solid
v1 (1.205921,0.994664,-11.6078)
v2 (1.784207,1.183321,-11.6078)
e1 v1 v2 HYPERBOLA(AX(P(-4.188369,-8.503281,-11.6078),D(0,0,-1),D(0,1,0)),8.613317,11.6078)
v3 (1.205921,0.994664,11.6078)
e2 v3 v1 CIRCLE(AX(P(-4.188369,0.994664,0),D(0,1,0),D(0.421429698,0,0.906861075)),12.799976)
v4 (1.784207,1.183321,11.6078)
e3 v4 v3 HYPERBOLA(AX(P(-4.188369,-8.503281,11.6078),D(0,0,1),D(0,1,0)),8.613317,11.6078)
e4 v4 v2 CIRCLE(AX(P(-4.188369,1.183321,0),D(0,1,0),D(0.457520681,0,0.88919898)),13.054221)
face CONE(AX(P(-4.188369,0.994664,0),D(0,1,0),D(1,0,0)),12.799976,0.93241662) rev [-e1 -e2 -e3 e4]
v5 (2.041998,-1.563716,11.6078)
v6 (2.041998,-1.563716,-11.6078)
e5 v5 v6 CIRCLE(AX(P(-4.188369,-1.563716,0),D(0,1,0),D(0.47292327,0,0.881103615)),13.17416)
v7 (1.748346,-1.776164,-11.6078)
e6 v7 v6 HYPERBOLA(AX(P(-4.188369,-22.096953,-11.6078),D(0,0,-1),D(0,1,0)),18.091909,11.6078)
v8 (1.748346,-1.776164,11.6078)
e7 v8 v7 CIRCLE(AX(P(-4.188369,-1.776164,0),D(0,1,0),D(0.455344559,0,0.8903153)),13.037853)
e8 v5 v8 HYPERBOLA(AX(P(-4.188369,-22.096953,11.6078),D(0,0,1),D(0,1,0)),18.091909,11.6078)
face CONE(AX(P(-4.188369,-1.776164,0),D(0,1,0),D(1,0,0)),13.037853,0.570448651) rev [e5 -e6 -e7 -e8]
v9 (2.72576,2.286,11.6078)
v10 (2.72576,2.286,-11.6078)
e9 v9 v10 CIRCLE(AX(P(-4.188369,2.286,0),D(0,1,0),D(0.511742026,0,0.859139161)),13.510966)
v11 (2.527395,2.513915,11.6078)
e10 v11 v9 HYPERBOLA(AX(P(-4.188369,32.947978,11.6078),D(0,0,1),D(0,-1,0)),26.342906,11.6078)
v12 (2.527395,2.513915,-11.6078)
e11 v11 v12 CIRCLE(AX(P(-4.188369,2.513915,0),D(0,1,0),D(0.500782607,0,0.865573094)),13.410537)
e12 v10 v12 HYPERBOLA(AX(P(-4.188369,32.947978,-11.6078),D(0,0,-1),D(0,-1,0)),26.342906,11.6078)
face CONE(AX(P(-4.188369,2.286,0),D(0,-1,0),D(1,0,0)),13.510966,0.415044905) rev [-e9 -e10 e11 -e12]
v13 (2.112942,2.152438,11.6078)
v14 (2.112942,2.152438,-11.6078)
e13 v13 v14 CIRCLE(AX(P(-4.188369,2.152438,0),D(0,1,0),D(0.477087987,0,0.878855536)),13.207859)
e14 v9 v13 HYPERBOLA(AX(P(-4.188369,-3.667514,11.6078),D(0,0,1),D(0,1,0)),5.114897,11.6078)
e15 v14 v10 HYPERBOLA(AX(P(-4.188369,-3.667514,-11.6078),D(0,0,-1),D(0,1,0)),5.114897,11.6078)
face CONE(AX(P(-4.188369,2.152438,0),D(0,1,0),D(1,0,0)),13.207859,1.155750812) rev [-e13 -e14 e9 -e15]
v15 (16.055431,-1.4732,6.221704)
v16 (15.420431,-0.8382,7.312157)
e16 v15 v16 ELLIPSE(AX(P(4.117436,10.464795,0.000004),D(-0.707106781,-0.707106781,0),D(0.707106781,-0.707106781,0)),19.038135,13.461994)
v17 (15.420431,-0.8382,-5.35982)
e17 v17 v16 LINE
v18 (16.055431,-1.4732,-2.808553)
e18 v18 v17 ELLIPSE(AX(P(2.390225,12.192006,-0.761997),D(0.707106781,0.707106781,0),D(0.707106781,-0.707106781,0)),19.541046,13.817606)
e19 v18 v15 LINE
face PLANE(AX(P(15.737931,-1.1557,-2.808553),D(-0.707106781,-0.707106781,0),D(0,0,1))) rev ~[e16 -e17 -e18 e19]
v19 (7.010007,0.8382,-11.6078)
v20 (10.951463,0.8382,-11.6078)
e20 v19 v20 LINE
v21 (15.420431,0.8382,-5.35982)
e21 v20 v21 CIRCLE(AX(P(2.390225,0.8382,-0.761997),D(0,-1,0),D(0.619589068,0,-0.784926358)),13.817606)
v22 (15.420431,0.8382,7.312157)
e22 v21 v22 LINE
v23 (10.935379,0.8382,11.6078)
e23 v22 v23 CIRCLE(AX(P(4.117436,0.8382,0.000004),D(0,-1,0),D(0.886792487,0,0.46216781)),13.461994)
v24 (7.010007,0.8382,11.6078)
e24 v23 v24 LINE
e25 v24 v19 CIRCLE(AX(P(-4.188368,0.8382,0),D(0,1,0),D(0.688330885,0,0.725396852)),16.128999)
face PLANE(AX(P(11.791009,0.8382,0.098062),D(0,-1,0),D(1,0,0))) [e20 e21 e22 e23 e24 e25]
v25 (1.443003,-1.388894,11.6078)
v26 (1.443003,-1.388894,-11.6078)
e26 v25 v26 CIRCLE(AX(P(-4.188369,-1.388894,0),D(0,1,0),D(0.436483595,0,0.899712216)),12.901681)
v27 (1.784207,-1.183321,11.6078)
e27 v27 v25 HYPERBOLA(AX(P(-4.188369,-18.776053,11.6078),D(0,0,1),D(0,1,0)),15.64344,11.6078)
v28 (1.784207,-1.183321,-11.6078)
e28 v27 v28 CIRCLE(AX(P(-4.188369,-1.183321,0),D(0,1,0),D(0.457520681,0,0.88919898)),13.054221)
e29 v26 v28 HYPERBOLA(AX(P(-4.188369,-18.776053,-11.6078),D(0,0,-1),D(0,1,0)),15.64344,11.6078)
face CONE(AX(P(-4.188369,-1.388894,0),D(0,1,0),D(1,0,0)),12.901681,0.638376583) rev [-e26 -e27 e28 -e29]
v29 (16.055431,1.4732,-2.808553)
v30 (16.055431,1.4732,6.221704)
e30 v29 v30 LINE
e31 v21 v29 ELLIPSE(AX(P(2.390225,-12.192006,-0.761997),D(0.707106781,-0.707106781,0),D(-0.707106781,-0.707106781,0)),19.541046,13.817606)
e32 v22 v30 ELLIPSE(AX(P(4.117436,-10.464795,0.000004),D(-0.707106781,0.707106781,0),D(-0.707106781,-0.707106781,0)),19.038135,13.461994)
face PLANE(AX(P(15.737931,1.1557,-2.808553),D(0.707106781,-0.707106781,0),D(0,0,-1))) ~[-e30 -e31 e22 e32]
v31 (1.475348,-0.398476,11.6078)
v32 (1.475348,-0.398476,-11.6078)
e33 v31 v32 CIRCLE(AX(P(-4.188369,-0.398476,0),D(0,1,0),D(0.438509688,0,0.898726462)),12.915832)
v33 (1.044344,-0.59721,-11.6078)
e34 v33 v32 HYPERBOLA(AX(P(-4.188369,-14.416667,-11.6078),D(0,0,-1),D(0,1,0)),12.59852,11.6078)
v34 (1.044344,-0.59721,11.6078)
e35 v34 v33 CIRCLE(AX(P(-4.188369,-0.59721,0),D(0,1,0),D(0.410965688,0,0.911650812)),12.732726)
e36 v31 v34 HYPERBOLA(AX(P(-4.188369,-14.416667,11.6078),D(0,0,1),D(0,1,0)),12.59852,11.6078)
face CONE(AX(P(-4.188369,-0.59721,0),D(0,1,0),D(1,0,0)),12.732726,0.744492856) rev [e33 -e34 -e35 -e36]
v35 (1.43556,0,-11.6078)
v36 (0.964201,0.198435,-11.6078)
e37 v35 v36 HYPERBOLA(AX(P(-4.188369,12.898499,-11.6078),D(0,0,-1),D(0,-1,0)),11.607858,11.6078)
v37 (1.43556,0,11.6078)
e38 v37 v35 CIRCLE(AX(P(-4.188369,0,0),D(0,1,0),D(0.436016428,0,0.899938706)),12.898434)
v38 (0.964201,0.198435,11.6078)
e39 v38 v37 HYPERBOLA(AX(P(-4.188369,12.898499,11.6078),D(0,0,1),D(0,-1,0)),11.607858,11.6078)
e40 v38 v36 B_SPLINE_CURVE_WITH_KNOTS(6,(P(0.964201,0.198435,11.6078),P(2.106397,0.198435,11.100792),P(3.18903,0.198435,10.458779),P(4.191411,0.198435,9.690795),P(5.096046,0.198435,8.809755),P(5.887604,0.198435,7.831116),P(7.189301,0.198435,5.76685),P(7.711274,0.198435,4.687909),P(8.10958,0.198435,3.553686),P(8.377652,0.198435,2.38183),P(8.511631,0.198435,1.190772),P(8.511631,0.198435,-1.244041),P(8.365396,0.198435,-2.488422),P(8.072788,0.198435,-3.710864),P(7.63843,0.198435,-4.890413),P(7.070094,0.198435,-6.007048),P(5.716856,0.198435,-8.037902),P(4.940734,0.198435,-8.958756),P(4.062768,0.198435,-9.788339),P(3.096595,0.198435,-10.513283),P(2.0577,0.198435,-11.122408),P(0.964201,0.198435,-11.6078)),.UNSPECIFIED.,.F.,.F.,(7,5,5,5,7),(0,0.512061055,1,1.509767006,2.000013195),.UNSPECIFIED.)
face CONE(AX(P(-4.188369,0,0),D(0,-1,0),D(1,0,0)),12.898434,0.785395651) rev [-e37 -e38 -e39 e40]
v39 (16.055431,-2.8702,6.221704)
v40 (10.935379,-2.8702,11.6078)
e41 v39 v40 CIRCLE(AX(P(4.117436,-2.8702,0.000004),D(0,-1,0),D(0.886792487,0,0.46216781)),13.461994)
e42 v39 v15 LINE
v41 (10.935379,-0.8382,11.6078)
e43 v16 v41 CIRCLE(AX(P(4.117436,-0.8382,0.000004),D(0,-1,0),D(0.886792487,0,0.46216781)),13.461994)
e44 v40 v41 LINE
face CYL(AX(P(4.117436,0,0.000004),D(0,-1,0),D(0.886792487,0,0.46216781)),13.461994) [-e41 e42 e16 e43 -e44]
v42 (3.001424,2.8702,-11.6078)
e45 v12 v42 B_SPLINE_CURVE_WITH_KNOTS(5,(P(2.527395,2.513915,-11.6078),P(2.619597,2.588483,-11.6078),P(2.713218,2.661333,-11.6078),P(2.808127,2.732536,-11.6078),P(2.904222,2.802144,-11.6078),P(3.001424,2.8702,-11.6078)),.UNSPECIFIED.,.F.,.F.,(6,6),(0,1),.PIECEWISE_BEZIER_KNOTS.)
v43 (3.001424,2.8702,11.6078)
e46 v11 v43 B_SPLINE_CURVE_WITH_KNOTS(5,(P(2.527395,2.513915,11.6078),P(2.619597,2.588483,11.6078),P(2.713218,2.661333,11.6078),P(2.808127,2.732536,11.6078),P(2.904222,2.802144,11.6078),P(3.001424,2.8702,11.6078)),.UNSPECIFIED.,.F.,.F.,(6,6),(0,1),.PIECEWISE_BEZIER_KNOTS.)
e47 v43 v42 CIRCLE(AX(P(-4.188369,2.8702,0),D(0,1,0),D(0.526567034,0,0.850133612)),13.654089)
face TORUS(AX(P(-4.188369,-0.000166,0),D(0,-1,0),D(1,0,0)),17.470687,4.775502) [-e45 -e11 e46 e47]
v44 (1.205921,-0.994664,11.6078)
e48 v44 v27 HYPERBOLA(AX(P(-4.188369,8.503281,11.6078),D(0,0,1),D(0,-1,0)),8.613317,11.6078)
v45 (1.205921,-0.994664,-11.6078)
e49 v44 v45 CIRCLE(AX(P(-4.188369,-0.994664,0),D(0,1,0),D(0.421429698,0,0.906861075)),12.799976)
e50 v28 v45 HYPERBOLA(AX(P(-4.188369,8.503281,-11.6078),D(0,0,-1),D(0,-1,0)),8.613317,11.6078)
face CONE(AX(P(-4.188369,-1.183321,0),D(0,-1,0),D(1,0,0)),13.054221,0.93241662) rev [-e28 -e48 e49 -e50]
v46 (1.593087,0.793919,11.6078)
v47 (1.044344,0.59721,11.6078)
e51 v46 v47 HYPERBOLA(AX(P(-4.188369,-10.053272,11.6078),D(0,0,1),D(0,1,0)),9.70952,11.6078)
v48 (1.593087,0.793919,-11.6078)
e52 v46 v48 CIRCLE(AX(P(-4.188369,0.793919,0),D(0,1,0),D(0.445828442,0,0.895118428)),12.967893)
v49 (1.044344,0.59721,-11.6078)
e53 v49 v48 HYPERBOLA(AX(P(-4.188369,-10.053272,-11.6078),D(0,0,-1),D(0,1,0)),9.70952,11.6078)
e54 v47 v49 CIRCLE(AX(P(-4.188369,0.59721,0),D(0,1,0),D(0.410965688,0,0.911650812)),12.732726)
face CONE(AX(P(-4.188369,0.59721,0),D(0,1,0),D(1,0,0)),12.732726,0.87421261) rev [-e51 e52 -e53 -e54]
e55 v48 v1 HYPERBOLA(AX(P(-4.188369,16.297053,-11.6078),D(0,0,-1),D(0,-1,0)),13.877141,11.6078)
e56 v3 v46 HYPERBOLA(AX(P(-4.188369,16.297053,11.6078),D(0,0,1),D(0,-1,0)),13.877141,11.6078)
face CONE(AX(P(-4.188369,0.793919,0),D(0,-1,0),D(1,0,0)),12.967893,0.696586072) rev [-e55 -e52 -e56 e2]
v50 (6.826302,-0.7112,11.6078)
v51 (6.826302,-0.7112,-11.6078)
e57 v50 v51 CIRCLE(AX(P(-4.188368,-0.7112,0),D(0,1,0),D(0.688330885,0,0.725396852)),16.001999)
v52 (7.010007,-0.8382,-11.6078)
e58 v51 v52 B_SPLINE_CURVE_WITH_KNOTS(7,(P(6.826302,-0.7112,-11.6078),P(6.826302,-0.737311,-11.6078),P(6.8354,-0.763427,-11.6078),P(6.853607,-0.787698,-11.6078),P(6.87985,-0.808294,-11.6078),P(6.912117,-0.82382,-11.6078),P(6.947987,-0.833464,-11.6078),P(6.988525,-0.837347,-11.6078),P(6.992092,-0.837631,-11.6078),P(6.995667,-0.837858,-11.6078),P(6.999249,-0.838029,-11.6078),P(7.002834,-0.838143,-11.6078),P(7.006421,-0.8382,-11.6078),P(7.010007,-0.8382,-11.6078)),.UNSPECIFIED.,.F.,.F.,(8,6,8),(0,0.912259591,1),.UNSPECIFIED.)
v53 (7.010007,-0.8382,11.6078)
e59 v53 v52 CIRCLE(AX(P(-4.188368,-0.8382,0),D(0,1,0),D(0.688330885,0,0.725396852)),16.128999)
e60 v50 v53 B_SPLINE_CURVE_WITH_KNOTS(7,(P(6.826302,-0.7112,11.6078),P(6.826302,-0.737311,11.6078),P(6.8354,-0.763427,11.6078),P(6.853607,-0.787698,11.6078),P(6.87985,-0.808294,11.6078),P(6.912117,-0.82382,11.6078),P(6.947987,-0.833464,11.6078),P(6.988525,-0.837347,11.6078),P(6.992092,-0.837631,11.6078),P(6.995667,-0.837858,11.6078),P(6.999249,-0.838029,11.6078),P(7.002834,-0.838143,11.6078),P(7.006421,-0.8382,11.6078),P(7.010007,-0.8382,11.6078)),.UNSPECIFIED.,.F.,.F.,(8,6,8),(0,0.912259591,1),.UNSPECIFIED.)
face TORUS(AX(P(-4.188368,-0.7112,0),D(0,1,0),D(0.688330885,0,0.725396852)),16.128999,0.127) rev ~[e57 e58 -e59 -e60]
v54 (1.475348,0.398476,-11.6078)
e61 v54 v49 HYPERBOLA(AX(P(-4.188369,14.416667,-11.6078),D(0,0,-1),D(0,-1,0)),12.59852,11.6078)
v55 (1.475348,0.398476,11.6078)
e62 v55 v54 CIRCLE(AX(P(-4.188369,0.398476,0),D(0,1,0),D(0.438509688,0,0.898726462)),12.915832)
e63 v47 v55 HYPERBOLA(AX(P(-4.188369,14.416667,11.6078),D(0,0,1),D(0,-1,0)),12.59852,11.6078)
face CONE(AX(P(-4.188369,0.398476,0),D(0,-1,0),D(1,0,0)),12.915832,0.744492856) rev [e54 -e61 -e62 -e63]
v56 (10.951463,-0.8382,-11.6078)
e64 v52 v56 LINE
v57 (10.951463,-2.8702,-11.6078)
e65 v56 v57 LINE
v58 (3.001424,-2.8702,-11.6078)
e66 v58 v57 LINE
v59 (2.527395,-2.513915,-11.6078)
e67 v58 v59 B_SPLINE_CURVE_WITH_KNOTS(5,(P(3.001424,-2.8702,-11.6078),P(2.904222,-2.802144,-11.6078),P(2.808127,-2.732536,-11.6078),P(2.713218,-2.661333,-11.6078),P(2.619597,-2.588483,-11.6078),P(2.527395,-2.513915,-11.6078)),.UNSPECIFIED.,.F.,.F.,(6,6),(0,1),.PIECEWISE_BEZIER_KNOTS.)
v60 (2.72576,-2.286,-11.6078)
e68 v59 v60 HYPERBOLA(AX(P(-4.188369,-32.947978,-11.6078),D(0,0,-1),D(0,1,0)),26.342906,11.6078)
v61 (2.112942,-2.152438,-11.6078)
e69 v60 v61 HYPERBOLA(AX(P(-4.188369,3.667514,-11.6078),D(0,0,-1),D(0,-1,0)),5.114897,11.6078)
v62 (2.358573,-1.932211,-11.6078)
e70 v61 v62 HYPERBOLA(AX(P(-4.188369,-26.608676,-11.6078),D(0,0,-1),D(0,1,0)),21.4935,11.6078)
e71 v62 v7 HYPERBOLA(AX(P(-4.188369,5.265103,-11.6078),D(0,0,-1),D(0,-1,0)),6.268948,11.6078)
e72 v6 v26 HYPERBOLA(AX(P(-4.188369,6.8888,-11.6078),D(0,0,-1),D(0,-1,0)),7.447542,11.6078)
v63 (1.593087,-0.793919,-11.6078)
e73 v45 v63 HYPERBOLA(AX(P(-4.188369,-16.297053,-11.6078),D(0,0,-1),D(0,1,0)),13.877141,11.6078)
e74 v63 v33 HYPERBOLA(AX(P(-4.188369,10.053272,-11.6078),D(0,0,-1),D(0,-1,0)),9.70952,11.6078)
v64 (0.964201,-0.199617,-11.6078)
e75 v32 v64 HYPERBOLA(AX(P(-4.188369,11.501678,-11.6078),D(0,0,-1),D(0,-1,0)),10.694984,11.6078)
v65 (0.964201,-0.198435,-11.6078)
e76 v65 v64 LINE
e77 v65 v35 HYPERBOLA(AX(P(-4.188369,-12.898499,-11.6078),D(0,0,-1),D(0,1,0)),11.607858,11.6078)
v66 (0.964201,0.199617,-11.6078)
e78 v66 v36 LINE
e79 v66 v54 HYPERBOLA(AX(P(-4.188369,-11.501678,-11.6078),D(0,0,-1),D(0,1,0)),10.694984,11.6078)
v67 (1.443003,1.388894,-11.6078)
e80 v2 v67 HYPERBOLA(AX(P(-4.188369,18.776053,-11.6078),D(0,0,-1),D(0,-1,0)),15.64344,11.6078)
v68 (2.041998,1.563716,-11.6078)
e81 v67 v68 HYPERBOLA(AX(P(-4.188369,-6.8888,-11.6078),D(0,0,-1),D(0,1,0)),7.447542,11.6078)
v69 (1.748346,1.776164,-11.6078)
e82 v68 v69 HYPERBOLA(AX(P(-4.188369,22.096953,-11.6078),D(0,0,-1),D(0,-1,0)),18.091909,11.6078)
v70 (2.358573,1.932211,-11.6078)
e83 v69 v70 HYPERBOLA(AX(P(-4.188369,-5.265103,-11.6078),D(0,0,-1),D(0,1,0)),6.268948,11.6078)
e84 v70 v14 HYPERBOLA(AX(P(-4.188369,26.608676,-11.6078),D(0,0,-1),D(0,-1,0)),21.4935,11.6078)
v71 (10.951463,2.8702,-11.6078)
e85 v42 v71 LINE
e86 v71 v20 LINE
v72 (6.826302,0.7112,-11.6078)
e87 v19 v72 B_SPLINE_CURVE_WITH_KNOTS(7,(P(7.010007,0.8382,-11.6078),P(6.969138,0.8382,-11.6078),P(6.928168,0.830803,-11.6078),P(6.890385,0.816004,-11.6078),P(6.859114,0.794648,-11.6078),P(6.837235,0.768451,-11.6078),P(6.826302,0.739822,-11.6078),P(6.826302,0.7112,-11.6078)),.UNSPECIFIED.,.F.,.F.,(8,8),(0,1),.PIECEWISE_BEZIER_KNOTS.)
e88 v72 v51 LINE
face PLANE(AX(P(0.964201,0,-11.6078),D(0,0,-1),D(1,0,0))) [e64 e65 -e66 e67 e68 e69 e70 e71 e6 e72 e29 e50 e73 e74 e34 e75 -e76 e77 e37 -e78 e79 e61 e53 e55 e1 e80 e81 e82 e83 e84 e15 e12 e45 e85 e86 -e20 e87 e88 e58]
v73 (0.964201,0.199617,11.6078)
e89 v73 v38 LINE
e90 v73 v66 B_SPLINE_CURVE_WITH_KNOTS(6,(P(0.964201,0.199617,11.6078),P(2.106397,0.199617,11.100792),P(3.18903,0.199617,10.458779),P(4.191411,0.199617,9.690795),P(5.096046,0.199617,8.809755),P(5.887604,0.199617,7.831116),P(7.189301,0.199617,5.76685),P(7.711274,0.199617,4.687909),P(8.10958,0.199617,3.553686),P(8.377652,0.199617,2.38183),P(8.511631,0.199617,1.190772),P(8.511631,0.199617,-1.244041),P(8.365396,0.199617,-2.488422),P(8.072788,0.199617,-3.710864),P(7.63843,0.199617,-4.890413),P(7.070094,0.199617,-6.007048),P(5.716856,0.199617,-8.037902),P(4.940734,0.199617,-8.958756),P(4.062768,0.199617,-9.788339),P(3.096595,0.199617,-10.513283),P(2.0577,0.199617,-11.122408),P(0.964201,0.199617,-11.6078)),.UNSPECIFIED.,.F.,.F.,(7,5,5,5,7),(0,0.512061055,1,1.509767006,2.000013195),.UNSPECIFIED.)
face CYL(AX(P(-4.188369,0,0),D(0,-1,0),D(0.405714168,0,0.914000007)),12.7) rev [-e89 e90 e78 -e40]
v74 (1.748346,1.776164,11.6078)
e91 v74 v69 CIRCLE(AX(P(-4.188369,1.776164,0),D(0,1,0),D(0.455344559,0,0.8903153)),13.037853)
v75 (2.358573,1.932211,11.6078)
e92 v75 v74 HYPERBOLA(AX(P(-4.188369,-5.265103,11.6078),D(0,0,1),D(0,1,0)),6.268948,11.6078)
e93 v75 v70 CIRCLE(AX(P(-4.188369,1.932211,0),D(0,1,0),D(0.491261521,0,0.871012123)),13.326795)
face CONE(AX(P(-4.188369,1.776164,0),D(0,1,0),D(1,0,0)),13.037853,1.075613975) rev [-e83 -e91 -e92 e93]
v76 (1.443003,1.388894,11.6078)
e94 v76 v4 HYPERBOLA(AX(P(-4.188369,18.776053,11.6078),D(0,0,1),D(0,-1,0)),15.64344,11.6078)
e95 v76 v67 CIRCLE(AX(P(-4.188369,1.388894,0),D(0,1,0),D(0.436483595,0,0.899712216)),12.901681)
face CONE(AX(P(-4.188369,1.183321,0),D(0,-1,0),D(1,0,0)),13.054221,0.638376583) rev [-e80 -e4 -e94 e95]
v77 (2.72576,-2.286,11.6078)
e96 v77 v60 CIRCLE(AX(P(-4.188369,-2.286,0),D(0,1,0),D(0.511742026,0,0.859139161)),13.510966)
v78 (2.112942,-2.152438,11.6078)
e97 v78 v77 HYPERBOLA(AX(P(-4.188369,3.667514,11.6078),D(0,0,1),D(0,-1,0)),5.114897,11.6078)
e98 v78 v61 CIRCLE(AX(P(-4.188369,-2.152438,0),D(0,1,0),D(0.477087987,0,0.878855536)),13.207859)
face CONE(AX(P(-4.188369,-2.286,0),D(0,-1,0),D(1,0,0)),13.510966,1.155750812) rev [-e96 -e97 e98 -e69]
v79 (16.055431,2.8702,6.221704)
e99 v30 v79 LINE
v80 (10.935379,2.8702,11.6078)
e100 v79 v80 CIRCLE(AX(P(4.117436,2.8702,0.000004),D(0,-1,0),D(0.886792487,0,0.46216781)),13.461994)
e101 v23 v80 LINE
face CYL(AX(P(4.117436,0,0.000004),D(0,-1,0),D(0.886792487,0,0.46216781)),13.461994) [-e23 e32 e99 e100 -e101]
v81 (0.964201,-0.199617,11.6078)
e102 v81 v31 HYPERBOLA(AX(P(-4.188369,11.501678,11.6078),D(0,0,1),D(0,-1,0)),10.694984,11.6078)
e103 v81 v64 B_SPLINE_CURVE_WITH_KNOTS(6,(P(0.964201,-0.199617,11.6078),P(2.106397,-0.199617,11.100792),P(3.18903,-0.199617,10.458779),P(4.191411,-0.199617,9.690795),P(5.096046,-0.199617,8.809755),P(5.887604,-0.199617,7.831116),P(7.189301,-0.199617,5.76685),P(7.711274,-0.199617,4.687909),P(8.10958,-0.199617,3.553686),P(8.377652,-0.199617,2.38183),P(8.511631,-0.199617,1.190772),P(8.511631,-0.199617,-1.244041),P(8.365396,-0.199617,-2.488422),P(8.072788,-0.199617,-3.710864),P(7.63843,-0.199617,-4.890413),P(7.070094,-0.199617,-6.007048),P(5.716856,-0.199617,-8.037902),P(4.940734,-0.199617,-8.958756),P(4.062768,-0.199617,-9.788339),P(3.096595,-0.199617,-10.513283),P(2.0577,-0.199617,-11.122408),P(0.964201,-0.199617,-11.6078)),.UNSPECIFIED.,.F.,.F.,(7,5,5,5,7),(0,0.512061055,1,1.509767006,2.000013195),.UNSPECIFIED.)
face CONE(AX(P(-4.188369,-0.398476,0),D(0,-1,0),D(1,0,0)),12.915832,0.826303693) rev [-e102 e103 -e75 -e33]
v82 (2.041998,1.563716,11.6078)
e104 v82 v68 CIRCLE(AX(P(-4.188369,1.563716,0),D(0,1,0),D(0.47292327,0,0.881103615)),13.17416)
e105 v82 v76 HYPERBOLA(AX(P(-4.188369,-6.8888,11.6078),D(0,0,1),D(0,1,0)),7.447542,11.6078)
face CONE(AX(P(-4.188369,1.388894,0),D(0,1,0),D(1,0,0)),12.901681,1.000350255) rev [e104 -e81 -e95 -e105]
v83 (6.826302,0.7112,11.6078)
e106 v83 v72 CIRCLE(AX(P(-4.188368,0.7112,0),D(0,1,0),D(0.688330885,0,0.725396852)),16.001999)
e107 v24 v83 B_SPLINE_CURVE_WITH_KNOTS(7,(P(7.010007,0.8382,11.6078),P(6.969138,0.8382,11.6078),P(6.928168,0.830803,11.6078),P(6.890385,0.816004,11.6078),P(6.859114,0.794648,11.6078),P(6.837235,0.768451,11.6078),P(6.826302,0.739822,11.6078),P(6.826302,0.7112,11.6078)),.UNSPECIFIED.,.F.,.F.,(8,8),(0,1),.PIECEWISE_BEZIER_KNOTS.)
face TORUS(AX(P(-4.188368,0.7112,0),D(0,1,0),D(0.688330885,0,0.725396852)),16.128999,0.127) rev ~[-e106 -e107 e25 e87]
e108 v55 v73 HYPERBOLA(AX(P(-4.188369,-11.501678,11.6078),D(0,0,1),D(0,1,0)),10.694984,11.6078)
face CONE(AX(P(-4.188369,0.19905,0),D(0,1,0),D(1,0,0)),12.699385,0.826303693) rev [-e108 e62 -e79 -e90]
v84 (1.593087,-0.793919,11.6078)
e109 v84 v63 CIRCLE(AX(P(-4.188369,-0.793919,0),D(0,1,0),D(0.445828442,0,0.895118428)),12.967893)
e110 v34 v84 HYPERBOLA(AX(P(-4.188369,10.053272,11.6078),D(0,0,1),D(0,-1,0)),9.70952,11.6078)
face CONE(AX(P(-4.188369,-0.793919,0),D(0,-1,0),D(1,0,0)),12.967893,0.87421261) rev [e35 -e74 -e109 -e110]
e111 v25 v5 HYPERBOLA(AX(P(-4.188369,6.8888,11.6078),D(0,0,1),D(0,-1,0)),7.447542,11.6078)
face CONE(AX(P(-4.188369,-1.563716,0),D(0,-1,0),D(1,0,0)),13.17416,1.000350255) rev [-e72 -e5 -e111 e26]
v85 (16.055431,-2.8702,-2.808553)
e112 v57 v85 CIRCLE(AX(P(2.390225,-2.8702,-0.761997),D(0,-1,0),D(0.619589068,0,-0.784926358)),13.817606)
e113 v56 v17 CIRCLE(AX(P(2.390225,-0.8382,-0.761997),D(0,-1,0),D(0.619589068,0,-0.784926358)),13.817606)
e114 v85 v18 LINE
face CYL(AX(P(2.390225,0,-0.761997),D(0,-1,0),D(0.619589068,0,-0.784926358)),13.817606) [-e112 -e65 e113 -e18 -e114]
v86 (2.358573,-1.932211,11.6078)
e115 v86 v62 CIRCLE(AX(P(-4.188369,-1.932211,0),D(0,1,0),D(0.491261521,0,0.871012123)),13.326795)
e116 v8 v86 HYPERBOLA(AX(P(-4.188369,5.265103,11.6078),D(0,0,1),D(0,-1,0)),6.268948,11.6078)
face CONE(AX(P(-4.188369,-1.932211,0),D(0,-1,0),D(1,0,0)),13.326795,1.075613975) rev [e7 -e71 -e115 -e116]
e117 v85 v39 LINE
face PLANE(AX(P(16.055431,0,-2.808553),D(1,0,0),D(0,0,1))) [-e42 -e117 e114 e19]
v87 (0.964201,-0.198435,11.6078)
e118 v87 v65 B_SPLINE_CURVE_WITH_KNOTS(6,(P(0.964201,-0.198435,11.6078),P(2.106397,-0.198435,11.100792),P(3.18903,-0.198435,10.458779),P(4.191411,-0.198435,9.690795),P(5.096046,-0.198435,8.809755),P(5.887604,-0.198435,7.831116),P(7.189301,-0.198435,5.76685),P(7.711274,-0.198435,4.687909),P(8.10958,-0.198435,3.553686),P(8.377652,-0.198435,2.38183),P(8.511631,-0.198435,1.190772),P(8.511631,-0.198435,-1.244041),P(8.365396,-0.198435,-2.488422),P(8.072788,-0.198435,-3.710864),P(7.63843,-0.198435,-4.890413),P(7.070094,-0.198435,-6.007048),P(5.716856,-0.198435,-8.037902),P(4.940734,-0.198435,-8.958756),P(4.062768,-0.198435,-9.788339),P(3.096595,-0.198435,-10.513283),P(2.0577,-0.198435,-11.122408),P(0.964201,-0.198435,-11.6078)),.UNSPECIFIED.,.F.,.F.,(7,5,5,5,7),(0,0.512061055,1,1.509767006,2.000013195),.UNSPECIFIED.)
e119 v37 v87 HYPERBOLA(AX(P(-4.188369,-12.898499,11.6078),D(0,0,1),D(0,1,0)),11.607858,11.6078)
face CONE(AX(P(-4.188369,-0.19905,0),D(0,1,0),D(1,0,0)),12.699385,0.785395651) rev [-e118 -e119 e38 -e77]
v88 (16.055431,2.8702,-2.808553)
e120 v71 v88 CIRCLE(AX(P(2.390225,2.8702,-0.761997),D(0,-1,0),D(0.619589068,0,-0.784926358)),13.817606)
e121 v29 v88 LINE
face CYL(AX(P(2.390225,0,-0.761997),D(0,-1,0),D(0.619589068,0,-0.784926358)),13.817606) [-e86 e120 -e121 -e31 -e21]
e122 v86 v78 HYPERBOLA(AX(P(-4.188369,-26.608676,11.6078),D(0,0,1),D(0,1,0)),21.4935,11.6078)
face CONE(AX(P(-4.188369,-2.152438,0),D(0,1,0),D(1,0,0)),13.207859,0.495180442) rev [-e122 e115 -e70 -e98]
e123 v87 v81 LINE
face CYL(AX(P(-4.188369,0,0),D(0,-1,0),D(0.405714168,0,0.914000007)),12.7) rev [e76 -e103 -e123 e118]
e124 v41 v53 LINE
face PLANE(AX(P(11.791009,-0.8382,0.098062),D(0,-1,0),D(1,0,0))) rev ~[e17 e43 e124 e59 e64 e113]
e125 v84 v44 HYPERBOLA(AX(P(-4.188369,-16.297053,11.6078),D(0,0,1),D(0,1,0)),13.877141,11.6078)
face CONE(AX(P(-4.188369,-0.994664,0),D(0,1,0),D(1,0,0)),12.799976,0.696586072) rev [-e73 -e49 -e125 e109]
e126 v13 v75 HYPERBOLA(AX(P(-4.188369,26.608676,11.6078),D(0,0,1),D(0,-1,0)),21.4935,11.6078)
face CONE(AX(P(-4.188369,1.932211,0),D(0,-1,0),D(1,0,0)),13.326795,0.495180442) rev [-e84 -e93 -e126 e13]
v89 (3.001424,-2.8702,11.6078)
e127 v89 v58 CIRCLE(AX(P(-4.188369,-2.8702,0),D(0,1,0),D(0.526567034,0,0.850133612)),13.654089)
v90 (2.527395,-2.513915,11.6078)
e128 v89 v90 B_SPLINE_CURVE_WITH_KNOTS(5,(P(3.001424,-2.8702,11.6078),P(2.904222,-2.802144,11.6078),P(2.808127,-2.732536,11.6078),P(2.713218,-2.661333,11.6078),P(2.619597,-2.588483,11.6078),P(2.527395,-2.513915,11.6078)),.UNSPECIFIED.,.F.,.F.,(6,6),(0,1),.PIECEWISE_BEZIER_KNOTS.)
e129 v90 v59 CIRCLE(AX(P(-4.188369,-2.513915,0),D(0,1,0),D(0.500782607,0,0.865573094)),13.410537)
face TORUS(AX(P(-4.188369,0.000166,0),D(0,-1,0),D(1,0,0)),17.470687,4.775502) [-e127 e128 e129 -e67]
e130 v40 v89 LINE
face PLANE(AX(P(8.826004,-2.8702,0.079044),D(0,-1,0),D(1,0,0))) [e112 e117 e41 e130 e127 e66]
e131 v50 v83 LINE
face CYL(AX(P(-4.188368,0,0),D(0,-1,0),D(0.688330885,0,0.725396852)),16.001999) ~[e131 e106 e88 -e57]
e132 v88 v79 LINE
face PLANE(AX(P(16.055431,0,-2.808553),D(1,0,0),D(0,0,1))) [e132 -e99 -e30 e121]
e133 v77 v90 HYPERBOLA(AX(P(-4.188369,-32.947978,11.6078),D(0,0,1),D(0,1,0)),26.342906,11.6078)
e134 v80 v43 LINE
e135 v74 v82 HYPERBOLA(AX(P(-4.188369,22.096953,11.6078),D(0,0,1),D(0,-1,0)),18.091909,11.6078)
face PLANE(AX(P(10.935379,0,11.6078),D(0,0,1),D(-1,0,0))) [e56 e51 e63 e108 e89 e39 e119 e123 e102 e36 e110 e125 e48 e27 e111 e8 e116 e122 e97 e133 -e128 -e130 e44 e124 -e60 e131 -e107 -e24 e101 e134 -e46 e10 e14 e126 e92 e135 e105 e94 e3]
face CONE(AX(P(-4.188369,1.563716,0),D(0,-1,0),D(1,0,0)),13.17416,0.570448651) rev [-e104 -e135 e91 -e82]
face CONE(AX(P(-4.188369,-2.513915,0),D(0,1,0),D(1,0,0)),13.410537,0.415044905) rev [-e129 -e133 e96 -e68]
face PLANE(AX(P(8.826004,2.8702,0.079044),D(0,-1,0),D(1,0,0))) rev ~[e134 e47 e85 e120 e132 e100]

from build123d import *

# Parameters (mm, degrees)
F1_DEPTH = 2.8702
F3_DEPTH = 0.8382
F4_R     = 0.127
F7_SIZE  = 0.635


with BuildPart() as f1:
    # F0 (on Front) → F1 (new body, symmetric)
    with BuildSketch(Plane.XZ):
        with BuildLine():
            Line((10.935379, 11.6078), (0.964201, 11.6078))
            ThreePointArc((0.964201, 11.6078), (8.511631, 0), (0.964201, -11.6078))
            Line((0.964201, -11.6078), (10.951463, -11.6078))
            ThreePointArc((10.951463, -11.6078), (14.342647, -7.694951), (16.055431, -2.808553))
            Line((16.055431, -2.808553), (16.055431, 6.221704))
            ThreePointArc((16.055431, 6.221704), (13.874424, 9.275049), (10.935379, 11.6078))
        make_face()
    extrude(amount=F1_DEPTH, both=True)

    # F2 (on Front) → F3 (cut, symmetric)
    with BuildSketch(Plane.XZ):
        with BuildLine():
            ThreePointArc((6.826302, 11.6078), (11.813631, 0), (6.826302, -11.6078))
            Line((6.826302, -11.6078), (10.951463, -11.6078))
            ThreePointArc((10.951463, -11.6078), (14.342647, -7.694951), (16.055431, -2.808553))
            Line((16.055431, -2.808553), (16.055431, 6.221704))
            ThreePointArc((16.055431, 6.221704), (13.874424, 9.275049), (10.935379, 11.6078))
            Line((10.935379, 11.6078), (6.826302, 11.6078))
        make_face()
    extrude(amount=F3_DEPTH, both=True, mode=Mode.SUBTRACT)

    # F4
    f4_edges = [f1.edges().sort_by_distance(p)[0] for p in [
        (11.813631, 0.8382, 0),
        (11.813631, -0.8382, 0),
    ]]
    fillet(f4_edges, radius=F4_R)

    # F5 (on Top) → F6 (revolve, cut)
    with BuildSketch(Plane.XY):
        with BuildLine():
            Line((9.46572, 2.8702), (0.964201, 2.8702))
            Line((0.964201, 2.8702), (0.964201, -2.8702))
            Line((0.964201, -2.8702), (9.46572, -2.8702))
            ThreePointArc((9.46572, -2.8702), (9.339917, -2.69481), (9.222168, -2.513915))
            ThreePointArc((9.222168, -2.513915), (9.116906, -2.335376), (9.01949, -2.152438))
            ThreePointArc((9.01949, -2.152438), (8.930418, -1.966139), (8.849484, -1.776164))
            ThreePointArc((8.849484, -1.776164), (8.777234, -1.583993), (8.713312, -1.388894))
            ThreePointArc((8.713312, -1.388894), (8.658256, -1.192864), (8.611607, -0.994664))
            ThreePointArc((8.611607, -0.994664), (8.573786, -0.796647), (8.544357, -0.59721))
            ThreePointArc((8.544357, -0.59721), (8.52352, -0.398479), (8.511016, -0.19905))
            ThreePointArc((8.511016, -0.19905), (8.506865, 0), (8.511016, 0.19905))
            ThreePointArc((8.511016, 0.19905), (8.52352, 0.398479), (8.544357, 0.59721))
            ThreePointArc((8.544357, 0.59721), (8.573786, 0.796647), (8.611607, 0.994664))
            ThreePointArc((8.611607, 0.994664), (8.658256, 1.192864), (8.713312, 1.388894))
            ThreePointArc((8.713312, 1.388894), (8.777234, 1.583993), (8.849484, 1.776164))
            ThreePointArc((8.849484, 1.776164), (8.930418, 1.966139), (9.01949, 2.152438))
            ThreePointArc((9.01949, 2.152438), (9.116906, 2.335376), (9.222168, 2.513915))
            ThreePointArc((9.222168, 2.513915), (9.339917, 2.69481), (9.46572, 2.8702))
        make_face()
        with BuildLine():
            Line((9.322597, 2.286), (9.222168, 2.513915))
            ThreePointArc((9.222168, 2.513915), (9.116906, 2.335376), (9.01949, 2.152438))
            Line((9.01949, 2.152438), (9.322597, 2.286))
        make_face()
        with BuildLine():
            Line((9.138426, 1.932211), (9.01949, 2.152438))
            ThreePointArc((9.01949, 2.152438), (8.930418, 1.966139), (8.849484, 1.776164))
            Line((8.849484, 1.776164), (9.138426, 1.932211))
        make_face()
        with BuildLine():
            ThreePointArc((9.01949, -2.152438), (9.116906, -2.335376), (9.222168, -2.513915))
            Line((9.222168, -2.513915), (9.322597, -2.286))
            Line((9.322597, -2.286), (9.01949, -2.152438))
        make_face()
        with BuildLine():
            Line((8.985791, 1.563716), (8.849484, 1.776164))
            ThreePointArc((8.849484, 1.776164), (8.777234, 1.583993), (8.713312, 1.388894))
            Line((8.713312, 1.388894), (8.985791, 1.563716))
        make_face()
        with BuildLine():
            ThreePointArc((8.849484, -1.776164), (8.930418, -1.966139), (9.01949, -2.152438))
            Line((9.01949, -2.152438), (9.138426, -1.932211))
            Line((9.138426, -1.932211), (8.849484, -1.776164))
        make_face()
        with BuildLine():
            Line((8.865852, 1.183321), (8.713312, 1.388894))
            ThreePointArc((8.713312, 1.388894), (8.658256, 1.192864), (8.611607, 0.994664))
            Line((8.611607, 0.994664), (8.865852, 1.183321))
        make_face()
        with BuildLine():
            ThreePointArc((8.713312, -1.388894), (8.777234, -1.583993), (8.849484, -1.776164))
            Line((8.849484, -1.776164), (8.985791, -1.563716))
            Line((8.985791, -1.563716), (8.713312, -1.388894))
        make_face()
        with BuildLine():
            Line((8.779524, 0.793919), (8.611607, 0.994664))
            ThreePointArc((8.611607, 0.994664), (8.573786, 0.796647), (8.544357, 0.59721))
            Line((8.544357, 0.59721), (8.779524, 0.793919))
        make_face()
        with BuildLine():
            ThreePointArc((8.611607, -0.994664), (8.658256, -1.192864), (8.713312, -1.388894))
            Line((8.713312, -1.388894), (8.865852, -1.183321))
            Line((8.865852, -1.183321), (8.611607, -0.994664))
        make_face()
        with BuildLine():
            Line((8.727463, 0.398476), (8.544357, 0.59721))
            ThreePointArc((8.544357, 0.59721), (8.52352, 0.398479), (8.511016, 0.19905))
            Line((8.511016, 0.19905), (8.727463, 0.398476))
        make_face()
        with BuildLine():
            ThreePointArc((8.544357, -0.59721), (8.573786, -0.796647), (8.611607, -0.994664))
            Line((8.611607, -0.994664), (8.779524, -0.793919))
            Line((8.779524, -0.793919), (8.544357, -0.59721))
        make_face()
        with BuildLine():
            Line((8.710065, 0), (8.511016, 0.19905))
            ThreePointArc((8.511016, 0.19905), (8.506865, 0), (8.511016, -0.19905))
            Line((8.511016, -0.19905), (8.710065, 0))
        make_face()
        with BuildLine():
            ThreePointArc((8.511016, -0.19905), (8.52352, -0.398479), (8.544357, -0.59721))
            Line((8.544357, -0.59721), (8.727463, -0.398476))
            Line((8.727463, -0.398476), (8.511016, -0.19905))
        make_face()
    revolve(axis=Axis((-4.188369, -0.221392, 0), (0, -1, 0)), mode=Mode.SUBTRACT)

    # F7
    f7_edges = [f1.edges().sort_by_distance(p)[0] for p in [
        (16.055431, -0.8382, 1.706576),
        (16.055431, 0.8382, 1.706576),
    ]]
    chamfer(f7_edges, length=F7_SIZE)


solid = f1.part
